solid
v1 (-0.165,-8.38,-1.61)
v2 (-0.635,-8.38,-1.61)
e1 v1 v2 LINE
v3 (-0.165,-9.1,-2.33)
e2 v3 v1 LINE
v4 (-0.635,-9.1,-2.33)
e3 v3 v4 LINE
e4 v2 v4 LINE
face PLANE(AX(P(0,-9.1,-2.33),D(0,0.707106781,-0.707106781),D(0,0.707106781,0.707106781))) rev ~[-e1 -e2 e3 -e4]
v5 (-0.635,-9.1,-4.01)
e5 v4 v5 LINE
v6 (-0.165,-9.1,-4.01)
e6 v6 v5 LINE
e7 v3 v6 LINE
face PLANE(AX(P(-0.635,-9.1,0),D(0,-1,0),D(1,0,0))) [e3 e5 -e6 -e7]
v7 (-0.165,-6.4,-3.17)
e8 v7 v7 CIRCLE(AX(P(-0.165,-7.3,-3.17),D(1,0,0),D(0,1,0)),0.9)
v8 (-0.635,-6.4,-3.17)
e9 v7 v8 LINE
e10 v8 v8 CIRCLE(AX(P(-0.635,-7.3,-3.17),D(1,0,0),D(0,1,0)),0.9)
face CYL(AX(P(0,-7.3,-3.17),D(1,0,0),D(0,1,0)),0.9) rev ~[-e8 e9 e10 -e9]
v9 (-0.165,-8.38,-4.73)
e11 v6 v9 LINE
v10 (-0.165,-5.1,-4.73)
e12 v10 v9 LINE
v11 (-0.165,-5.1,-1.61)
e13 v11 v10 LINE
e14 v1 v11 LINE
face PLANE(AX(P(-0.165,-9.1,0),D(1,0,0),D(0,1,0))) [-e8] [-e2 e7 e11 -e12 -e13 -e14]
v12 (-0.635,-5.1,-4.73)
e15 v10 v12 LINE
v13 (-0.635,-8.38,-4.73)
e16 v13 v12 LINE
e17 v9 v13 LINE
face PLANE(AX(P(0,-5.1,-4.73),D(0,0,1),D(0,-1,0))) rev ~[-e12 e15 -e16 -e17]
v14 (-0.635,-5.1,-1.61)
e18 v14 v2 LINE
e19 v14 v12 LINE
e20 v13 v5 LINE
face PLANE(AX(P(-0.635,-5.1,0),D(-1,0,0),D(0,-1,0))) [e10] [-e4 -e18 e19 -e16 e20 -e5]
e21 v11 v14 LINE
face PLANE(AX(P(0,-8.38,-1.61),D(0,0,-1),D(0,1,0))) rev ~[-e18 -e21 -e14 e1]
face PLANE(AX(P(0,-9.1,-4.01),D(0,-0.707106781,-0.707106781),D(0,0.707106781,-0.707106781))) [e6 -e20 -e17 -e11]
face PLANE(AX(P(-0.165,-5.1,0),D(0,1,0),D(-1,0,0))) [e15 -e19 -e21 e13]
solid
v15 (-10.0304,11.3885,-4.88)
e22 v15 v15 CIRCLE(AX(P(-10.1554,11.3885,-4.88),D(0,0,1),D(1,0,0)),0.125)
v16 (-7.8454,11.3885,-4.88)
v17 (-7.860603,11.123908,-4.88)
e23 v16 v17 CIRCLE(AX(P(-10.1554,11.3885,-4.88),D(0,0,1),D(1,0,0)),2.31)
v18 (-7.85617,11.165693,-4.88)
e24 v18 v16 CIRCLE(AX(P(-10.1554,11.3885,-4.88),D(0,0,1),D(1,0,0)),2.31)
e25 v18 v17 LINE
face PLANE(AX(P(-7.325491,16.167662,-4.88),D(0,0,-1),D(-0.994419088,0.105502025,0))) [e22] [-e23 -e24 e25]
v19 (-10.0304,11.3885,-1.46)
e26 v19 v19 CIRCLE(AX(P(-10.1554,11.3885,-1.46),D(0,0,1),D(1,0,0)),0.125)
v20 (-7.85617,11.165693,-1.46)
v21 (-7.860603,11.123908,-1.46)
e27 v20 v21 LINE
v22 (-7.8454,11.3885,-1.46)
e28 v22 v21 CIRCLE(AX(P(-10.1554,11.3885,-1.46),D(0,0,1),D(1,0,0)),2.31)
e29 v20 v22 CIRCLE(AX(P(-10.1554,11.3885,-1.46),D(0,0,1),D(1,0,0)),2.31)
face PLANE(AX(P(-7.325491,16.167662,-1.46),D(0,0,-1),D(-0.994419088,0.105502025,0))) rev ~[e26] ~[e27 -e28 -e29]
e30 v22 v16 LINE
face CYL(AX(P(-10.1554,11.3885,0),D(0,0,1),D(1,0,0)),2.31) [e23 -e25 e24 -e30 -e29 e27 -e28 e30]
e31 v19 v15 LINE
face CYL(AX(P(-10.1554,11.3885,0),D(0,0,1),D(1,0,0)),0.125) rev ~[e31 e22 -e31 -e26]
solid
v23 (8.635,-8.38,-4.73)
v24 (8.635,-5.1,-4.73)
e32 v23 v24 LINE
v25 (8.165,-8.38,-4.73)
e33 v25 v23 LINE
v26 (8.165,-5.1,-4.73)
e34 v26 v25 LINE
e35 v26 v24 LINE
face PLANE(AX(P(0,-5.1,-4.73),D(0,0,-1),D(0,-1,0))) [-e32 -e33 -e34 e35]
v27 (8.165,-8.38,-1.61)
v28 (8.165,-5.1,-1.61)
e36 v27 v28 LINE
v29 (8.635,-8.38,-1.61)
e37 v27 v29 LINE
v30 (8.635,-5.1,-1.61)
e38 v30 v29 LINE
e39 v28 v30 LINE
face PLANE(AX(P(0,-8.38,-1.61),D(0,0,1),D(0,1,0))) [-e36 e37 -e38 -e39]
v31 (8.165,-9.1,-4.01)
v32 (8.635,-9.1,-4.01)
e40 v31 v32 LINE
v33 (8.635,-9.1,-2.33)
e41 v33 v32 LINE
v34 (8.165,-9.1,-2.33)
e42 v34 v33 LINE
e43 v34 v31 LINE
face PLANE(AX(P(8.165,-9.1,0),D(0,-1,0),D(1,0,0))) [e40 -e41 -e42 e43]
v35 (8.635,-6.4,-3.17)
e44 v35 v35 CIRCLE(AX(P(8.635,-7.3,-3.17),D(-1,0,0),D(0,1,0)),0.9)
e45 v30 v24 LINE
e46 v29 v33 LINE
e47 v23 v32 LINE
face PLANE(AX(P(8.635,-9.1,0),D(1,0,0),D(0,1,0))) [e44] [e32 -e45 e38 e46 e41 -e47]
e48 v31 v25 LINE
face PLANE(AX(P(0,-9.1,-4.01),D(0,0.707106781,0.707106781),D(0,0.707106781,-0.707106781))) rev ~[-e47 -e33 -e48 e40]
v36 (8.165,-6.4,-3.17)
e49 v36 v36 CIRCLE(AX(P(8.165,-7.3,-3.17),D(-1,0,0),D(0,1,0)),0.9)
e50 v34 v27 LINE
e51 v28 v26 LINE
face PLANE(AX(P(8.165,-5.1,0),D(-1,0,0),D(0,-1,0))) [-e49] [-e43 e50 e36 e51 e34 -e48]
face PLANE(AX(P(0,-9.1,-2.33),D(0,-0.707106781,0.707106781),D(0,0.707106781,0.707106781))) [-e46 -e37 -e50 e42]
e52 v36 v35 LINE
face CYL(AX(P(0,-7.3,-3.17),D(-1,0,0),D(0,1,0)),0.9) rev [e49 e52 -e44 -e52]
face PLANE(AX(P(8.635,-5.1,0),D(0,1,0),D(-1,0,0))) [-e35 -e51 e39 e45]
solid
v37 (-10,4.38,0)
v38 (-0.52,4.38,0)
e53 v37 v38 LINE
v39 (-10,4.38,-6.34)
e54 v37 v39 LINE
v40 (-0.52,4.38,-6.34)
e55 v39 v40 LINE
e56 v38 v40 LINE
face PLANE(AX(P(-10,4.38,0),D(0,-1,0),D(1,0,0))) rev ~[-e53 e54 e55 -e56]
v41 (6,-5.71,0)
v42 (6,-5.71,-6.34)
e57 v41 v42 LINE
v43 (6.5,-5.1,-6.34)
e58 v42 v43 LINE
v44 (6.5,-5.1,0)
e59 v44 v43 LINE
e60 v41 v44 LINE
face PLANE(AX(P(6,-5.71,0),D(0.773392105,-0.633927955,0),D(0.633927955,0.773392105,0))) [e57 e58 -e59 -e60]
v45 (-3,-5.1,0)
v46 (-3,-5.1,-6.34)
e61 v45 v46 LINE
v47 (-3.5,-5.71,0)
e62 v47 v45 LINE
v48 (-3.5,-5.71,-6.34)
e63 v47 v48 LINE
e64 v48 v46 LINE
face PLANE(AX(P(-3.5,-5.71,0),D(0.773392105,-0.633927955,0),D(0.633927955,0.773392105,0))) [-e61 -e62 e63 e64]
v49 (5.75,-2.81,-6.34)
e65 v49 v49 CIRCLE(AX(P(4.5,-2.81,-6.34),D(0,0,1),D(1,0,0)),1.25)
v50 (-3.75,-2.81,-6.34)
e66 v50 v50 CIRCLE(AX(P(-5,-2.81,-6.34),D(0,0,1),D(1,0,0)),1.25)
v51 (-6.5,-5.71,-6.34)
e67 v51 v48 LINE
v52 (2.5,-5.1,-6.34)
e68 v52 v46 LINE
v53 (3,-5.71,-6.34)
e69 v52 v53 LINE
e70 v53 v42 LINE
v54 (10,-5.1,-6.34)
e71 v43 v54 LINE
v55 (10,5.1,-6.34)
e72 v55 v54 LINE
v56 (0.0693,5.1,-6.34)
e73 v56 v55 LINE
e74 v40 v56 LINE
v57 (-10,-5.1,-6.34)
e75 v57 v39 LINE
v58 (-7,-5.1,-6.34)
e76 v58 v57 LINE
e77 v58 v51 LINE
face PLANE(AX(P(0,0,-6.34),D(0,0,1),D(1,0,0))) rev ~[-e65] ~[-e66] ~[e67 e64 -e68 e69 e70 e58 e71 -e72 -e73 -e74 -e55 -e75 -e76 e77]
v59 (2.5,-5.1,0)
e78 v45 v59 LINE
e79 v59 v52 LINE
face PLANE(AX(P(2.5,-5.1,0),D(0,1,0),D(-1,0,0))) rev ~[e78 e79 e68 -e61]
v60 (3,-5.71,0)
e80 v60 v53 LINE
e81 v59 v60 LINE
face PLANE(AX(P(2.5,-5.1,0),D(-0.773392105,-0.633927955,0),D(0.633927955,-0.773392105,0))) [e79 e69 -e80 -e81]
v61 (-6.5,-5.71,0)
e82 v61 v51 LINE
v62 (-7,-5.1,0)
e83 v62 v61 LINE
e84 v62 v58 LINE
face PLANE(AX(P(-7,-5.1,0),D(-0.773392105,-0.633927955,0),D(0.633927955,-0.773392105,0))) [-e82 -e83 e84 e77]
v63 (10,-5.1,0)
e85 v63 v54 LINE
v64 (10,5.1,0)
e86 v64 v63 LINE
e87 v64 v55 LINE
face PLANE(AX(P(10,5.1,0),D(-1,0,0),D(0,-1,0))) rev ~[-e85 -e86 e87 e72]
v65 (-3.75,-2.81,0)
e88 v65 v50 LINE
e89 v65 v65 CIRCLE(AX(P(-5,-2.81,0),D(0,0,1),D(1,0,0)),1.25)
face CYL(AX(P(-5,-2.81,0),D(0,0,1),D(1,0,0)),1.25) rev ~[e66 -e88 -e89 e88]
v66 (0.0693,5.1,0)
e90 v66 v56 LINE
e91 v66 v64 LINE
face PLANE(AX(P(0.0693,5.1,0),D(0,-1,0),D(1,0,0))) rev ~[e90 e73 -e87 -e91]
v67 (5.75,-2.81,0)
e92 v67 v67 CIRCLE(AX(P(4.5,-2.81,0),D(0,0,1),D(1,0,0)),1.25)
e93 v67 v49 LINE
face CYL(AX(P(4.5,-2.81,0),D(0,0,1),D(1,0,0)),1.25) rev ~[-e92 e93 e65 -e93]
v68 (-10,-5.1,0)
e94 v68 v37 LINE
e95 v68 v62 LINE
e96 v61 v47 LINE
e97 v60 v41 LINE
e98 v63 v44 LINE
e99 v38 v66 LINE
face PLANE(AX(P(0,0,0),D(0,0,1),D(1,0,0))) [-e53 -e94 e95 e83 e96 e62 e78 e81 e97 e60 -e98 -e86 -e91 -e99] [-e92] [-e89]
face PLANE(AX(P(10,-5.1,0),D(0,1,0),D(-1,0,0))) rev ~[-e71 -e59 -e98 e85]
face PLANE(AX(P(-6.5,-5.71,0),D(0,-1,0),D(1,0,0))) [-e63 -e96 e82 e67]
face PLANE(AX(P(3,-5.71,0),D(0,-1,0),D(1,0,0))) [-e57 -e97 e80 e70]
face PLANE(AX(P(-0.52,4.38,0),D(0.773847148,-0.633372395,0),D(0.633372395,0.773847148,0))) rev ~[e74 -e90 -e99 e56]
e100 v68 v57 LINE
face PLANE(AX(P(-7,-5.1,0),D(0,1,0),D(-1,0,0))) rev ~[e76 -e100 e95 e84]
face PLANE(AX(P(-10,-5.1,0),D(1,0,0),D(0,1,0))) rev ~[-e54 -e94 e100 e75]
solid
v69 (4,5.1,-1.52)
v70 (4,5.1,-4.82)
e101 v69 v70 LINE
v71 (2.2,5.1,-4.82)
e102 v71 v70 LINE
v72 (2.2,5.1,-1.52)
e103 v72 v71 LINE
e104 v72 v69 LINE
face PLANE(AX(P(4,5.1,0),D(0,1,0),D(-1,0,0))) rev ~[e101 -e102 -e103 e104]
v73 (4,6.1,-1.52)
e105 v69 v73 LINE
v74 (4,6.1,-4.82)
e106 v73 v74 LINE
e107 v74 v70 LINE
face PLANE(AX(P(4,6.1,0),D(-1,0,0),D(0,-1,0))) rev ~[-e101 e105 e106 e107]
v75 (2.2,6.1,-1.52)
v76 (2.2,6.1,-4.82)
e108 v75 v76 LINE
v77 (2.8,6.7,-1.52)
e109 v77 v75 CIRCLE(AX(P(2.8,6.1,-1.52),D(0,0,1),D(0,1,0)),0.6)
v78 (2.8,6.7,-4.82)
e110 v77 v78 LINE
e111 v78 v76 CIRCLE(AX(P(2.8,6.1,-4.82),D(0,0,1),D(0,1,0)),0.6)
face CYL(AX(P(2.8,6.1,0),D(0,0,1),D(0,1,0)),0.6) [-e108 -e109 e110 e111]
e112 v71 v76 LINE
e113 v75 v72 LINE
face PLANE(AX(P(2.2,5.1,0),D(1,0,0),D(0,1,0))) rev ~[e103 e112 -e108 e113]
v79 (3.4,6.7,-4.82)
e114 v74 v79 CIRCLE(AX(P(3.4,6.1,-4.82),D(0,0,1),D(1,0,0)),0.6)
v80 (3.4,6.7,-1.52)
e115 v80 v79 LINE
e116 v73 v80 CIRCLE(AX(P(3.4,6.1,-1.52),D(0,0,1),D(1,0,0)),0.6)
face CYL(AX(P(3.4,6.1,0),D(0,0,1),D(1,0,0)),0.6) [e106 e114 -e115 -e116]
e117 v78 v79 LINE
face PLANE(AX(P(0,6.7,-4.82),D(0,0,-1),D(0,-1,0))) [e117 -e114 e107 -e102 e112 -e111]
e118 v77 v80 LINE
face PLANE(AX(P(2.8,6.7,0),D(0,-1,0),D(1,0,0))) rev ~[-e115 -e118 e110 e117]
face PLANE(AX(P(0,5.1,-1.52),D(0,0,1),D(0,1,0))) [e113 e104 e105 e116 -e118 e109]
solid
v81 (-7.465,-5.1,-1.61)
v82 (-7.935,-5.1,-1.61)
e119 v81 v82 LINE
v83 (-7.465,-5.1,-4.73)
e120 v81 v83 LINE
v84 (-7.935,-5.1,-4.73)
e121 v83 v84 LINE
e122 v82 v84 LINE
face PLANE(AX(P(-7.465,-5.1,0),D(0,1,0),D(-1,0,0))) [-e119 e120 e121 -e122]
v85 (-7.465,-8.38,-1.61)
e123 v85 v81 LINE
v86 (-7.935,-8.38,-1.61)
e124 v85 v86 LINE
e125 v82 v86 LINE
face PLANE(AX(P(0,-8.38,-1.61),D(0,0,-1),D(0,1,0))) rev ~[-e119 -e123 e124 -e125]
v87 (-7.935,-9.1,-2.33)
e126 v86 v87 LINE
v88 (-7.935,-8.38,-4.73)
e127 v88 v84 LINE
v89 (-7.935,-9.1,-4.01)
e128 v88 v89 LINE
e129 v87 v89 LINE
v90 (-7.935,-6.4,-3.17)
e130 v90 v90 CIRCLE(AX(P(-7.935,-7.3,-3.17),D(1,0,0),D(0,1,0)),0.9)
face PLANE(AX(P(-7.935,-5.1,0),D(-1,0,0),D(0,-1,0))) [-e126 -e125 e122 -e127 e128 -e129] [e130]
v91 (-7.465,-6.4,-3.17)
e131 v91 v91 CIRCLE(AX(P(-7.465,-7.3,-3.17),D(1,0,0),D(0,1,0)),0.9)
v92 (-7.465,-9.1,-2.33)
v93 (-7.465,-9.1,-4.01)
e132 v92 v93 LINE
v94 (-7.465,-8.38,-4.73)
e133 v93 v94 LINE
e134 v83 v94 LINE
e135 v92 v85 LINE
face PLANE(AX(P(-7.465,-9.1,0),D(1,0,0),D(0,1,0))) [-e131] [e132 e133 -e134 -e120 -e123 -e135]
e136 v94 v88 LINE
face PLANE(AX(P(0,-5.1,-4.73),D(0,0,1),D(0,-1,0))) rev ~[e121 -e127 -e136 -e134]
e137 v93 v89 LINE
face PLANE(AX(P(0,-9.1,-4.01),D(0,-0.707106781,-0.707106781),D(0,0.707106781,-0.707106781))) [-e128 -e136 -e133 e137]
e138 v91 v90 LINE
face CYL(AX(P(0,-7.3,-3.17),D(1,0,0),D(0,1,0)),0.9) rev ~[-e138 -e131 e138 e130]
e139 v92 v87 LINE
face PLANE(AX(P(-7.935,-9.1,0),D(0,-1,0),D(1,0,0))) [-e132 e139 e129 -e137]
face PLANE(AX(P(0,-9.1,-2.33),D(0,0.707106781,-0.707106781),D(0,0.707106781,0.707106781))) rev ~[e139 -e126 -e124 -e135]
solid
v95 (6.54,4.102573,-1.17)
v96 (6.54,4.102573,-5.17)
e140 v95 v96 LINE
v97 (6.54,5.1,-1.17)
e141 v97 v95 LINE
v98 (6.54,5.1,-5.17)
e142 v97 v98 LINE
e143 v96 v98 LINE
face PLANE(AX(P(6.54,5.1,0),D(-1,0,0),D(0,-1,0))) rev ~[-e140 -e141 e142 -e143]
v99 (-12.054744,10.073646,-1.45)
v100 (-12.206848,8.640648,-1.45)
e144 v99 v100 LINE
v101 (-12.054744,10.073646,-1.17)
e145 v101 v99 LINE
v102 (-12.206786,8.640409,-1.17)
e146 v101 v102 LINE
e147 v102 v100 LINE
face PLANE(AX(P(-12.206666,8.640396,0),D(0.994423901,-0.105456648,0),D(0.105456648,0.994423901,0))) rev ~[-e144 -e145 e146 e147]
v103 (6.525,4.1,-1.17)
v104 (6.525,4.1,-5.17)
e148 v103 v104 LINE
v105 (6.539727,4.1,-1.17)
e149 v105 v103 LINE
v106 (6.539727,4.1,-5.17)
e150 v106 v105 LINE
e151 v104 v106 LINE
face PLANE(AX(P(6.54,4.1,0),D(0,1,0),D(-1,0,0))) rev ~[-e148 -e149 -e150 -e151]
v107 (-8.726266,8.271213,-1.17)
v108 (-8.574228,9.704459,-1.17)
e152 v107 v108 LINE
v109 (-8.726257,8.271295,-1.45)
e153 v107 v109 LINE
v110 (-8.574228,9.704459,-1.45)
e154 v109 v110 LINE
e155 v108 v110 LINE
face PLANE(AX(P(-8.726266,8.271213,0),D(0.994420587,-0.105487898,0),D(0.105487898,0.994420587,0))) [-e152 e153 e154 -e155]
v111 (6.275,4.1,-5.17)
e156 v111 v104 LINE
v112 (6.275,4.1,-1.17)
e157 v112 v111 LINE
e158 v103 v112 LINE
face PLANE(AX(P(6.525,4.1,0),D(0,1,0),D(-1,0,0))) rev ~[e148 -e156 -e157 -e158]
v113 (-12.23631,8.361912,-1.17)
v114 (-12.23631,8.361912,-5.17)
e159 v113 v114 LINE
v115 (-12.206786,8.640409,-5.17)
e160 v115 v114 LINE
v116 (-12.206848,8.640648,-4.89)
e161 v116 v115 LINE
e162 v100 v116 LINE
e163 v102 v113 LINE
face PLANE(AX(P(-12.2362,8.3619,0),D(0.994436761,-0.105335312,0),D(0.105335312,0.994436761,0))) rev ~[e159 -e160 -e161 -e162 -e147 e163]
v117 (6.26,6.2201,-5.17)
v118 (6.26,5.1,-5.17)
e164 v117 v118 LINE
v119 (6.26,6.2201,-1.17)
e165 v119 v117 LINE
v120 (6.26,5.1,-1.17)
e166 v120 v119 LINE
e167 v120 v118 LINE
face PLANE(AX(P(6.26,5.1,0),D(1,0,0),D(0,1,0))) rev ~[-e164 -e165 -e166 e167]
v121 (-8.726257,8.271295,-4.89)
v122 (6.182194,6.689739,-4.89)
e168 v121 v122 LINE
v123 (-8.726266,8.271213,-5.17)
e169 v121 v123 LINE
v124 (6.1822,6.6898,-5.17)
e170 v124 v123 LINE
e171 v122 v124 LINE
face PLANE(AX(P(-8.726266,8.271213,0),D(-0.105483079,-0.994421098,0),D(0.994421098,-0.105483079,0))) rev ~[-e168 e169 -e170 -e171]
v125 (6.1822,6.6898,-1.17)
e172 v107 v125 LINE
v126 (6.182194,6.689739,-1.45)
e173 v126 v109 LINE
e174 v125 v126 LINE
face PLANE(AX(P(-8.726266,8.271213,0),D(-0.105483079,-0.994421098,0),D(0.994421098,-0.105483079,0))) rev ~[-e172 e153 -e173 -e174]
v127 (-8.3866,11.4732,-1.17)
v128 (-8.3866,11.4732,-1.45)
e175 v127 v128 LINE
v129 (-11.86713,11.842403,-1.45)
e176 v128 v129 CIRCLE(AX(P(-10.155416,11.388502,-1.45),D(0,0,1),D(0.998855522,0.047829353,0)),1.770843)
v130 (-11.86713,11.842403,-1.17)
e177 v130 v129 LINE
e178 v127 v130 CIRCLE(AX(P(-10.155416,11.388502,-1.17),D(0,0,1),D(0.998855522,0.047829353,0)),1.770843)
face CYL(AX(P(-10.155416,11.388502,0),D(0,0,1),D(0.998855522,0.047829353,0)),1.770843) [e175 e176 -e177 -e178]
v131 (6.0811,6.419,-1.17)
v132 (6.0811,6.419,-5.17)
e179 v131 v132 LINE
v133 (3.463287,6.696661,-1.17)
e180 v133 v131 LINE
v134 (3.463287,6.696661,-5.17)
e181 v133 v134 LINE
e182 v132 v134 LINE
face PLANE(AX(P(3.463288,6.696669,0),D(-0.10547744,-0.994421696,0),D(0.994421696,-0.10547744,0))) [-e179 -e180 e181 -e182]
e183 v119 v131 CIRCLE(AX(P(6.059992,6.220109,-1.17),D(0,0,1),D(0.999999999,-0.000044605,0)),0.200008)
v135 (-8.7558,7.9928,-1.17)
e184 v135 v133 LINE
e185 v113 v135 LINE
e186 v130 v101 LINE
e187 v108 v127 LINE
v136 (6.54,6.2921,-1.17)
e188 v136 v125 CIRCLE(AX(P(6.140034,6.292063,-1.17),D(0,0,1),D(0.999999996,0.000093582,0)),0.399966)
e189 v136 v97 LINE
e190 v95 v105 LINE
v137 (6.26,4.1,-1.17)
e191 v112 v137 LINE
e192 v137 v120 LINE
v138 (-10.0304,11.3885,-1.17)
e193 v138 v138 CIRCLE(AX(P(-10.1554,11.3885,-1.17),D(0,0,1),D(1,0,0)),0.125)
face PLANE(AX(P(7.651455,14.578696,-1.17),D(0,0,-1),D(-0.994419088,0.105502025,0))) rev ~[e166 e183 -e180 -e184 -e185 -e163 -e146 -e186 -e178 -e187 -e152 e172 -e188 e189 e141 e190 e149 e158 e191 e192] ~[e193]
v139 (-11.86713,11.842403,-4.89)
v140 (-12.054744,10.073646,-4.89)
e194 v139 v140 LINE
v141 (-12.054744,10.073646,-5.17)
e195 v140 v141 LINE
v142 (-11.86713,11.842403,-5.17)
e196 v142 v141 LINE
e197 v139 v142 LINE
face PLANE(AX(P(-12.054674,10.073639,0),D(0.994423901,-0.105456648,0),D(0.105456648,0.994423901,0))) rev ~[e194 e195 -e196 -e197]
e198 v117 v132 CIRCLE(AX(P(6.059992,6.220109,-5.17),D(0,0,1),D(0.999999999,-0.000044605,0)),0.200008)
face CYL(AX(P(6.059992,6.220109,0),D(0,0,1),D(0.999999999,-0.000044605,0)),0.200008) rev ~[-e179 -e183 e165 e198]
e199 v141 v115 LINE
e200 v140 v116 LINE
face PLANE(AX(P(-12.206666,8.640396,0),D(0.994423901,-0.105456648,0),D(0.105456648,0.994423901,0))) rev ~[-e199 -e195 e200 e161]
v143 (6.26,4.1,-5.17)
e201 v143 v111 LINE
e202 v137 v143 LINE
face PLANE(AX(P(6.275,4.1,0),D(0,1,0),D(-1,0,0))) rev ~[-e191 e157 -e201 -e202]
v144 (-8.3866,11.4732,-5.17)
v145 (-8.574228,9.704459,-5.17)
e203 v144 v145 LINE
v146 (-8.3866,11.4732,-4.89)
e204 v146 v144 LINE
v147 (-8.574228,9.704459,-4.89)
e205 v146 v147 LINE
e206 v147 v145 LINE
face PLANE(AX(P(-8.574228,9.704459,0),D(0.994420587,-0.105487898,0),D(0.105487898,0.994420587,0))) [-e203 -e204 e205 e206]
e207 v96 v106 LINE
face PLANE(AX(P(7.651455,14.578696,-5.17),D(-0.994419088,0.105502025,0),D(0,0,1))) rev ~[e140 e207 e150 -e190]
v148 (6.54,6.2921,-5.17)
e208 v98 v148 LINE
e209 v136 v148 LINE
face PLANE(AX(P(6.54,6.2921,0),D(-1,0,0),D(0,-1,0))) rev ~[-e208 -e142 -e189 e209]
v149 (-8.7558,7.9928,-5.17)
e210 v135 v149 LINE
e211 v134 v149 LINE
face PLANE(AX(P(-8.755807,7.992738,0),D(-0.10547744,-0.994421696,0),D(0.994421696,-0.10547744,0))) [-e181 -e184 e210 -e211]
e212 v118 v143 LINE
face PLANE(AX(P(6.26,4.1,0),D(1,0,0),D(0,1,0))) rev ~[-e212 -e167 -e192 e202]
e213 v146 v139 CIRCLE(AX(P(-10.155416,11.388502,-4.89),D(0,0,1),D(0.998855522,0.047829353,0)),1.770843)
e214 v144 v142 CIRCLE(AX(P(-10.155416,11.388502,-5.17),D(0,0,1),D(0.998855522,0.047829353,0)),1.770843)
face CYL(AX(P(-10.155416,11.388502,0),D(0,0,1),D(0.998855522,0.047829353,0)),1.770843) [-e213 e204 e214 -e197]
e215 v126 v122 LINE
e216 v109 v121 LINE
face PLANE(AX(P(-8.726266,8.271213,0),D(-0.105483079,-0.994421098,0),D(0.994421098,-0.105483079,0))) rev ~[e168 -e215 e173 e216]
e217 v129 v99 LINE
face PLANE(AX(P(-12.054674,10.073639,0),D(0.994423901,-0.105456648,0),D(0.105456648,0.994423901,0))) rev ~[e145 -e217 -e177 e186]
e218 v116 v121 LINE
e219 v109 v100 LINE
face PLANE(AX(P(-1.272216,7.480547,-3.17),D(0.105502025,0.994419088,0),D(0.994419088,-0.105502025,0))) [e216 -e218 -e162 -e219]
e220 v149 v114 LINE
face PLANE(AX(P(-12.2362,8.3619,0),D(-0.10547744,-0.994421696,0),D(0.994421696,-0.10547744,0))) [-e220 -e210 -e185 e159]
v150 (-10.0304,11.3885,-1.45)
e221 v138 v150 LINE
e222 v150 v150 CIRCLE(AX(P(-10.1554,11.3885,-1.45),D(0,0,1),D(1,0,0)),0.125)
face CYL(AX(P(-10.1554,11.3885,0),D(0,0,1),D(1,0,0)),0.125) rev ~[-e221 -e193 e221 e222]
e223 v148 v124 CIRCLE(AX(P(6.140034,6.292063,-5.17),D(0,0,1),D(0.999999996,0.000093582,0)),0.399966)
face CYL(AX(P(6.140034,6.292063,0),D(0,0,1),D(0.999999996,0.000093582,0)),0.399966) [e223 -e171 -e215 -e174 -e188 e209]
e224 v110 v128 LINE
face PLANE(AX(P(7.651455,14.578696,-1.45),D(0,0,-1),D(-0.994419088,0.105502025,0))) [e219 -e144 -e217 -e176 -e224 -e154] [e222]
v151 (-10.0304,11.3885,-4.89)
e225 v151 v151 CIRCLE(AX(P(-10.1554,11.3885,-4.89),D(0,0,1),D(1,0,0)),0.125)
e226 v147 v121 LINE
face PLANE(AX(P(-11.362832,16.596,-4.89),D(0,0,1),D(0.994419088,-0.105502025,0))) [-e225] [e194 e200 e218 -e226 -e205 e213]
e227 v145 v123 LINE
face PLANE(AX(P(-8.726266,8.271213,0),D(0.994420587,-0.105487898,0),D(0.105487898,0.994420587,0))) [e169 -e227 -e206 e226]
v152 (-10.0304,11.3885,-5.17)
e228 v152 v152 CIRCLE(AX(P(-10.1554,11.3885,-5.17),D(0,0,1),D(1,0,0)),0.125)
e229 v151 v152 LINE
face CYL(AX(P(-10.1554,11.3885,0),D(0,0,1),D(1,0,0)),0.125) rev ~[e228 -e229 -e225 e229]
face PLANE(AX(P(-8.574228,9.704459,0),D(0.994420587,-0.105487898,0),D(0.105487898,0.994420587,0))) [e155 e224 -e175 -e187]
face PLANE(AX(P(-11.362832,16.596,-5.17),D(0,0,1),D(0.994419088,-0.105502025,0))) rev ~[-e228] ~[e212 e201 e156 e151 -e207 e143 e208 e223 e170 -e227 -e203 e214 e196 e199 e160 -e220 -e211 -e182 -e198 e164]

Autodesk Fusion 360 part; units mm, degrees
sketch "Body" plane through (0, 0, 0) normal (0, 0, 1) x (1, 0, 0)
  line L0 (10, -5.1) -> (-10, -5.1)
  line L1 (-10, -5.1) -> (-10, 5.1)
  line L2 (-10, 5.1) -> (10, 5.1)
  line L3 (10, 5.1) -> (10, -5.1)
  line L4 (10, -5.1) -> (-10, 5.1) construction
  line L5 (-10, -5.1) -> (10, 5.1) construction
  line L6 (8.4, 5.1) -> (8.4, -5.1) construction
  line L7 (-0.4, 5.1) -> (-0.4, -5.1) construction
  line L8 (-7.7, 5.1) -> (-7.7, -5.1) construction
  line L9 (-7.7, -5.1) -> (-7.7, -9.1) construction
  line L10 (-0.4, -5.1) -> (-0.4, -9.1) construction
  line L11 (8.4, -5.1) -> (8.4, -9.1) construction
  line L12 (-10, -5.1) -> (10, -5.1) construction
  line L13 (10, -5.1) -> (10, -5.71) construction
  line L14 (10, -5.71) -> (-10, -5.71) construction
  line L15 (-10, -5.71) -> (-10, -5.1) construction
  line L16 (10, -2.81) -> (-10, -2.81) construction
  line L17 (-10, -2.81) -> (4.5, -2.81) construction
  circle A0 centre (4.5, -2.81) radius 1.25
  line L18 (4.5, -2.81) -> (-5, -2.81) construction
  circle A1 centre (-5, -2.81) radius 1.25
  line L19 (-5, -2.81) -> (-5, -5.71) construction
  line L20 (4.5, -2.81) -> (4.5, -5.71) construction
  line L21 (3, -5.71) -> (6, -5.71)
  line L22 (4.5, -5.1) -> (4.5, -5.71) construction
  line L23 (-5, -5.1) -> (-5, -5.71) construction
  line L24 (2.5, -5.1) -> (6.5, -5.1)
  line L25 (2.5, -5.1) -> (3, -5.71)
  line L26 (6, -5.71) -> (6.5, -5.1)
  line L27 (-6.5, -5.71) -> (-3.5, -5.71)
  line L28 (-7, -5.1) -> (-3, -5.1)
  line L29 (-7, -5.1) -> (-6.5, -5.71)
  line L30 (-3.5, -5.71) -> (-3, -5.1)
  line L31 (-7.465, -5.1) -> (-7.935, -5.1)
  line L32 (-7.935, -5.1) -> (-7.935, -9.1)
  line L33 (-7.935, -9.1) -> (-7.465, -9.1)
  line L34 (-7.465, -9.1) -> (-7.465, -5.1)
  line L35 (-7.465, -5.1) -> (-7.935, -9.1) construction
  line L36 (-7.935, -5.1) -> (-7.465, -9.1) construction
  line L37 (-0.165, -5.1) -> (-0.635, -5.1)
  line L38 (-0.635, -5.1) -> (-0.635, -9.1)
  line L39 (-0.635, -9.1) -> (-0.165, -9.1)
  line L40 (-0.165, -9.1) -> (-0.165, -5.1)
  line L41 (-0.165, -5.1) -> (-0.635, -9.1) construction
  line L42 (-0.635, -5.1) -> (-0.165, -9.1) construction
  line L43 (8.635, -5.1) -> (8.165, -5.1)
  line L44 (8.165, -5.1) -> (8.165, -9.1)
  line L45 (8.165, -9.1) -> (8.635, -9.1)
  line L46 (8.635, -9.1) -> (8.635, -5.1)
  line L47 (8.635, -5.1) -> (8.165, -9.1) construction
  line L48 (8.165, -5.1) -> (8.635, -9.1) construction
  line L49 (-10, -5.1) -> (-10, 4.38)
  line L50 (-10, 4.38) -> (-0.52, 4.38)
  line L51 (-0.52, 4.38) -> (0.0693, 5.1)
  line L52 (-0.52, 4.38) -> (0.4104, 4.38) construction
  point P0 (4.5, -5.1)
  point P1 (-7.7, -7.1)
  point P2 (-0.4, -7.1)
  point P3 (8.4, -7.1)
  dimension "d1" = 20
  dimension "d2" = 10.2
  dimension "d3" = 1.6
  dimension "d4" = 10.4
  dimension "d5" = 17.7
  dimension "d6" = 4
  dimension "d7" = 4
  dimension "d8" = 4
  dimension "d12" = 0.61
  dimension "d13" = 2.9
  dimension "d14" = 14.5
  dimension "d15" = 2.5
  dimension "d16" = 9.5
  dimension "d17" = 2.5
  dimension "d21" = 3
  dimension "d22" = 4
  dimension "d23" = 3
  dimension "d24" = 4
  dimension "d25" = 0.47
  dimension "d26" = 0.47
  dimension "d27" = 4
  dimension "d28" = 0.47
  dimension "d51" = 9.48
  dimension "d52" = 9.48
  dimension "d53" = 50.7
sketch "Stem" plane through (0, 0, 0) normal (0, 0, 1) x (1, 0, 0)
  line L0 (2.8, 6.7) -> (3.4, 6.7)
  line L1 (4, 6.1) -> (4, 5.1)
  line L2 (4, 5.1) -> (2.2, 5.1)
  line L3 (2.2, 5.1) -> (2.2, 6.1)
  line L4 (10, 5.1) -> (10, -5.1) construction
  line L5 (10, 5.1) -> (3.1, 5.1) construction
  arc A0 (2.8, 6.7) -> (2.2, 6.1) centre (2.8, 6.1) ccw
  arc A1 (4, 6.1) -> (3.4, 6.7) centre (3.4, 6.1) ccw
  line L6 (10, 5.1) -> (6.4, 5.1) construction
  line L7 (6.4, 5.1) -> (6.4, 4.1) construction
  circle A2 centre (6.4, 4.1) radius 0.125
  line L8 (6.54, 6.2921) -> (6.54, 4.1)
  line L9 (6.54, 4.1) -> (6.26, 4.1)
  line L10 (6.26, 4.1) -> (6.26, 6.2201)
  line L11 (-12.2362, 8.3619) -> (6.0811, 6.419)
  line L12 (-12.2362, 8.3619) -> (-12.2067, 8.6404)
  line L13 (-12.2067, 8.6404) -> (6.1822, 6.6898)
  line L14 (-10, 5.1) -> (10, 5.1)
  line L15 (-12.2362, 8.3619) -> (-11.8671, 11.8424)
  line L16 (-12.2362, 8.3619) -> (-8.7558, 7.9928)
  line L17 (-8.7558, 7.9928) -> (-8.3866, 11.4732)
  line L18 (-10.496, 8.1773) -> (-9.9686, 13.1494) construction
  arc A3 (-8.3866, 11.4732) -> (-11.8671, 11.8424) centre (-10.1554, 11.3885) ccw
  circle A4 centre (-10.1554, 11.3885) radius 0.125
  circle A5 centre (-10.1554, 11.3885) radius 2.31
  arc A6 (6.26, 6.2201) -> (6.0811, 6.419) centre (6.06, 6.2201) ccw
  arc A7 (6.54, 6.2921) -> (6.1822, 6.6898) centre (6.14, 6.2921) ccw
  point P0 (2.2, 6.7)
  point P1 (4, 6.7)
  point P2 (6.26, 6.4)
  point P3 (6.26, 6.4)
  dimension "d29" = 1.8
  dimension "d30" = 1.6
  dimension "d31" = 6.9
  dimension "d32" = 0.6
  dimension "d33" = 3.6
  dimension "d34" = 1
  dimension "d35" = 0.25
  dimension "d39" = 2.3
  dimension "d40" = 18.6
  dimension "d41" = 0.28
  dimension "d42" = 0.28
  dimension "d43" = 3.5
  dimension "d44" = 3.5
  dimension "d45" = 3.5
  dimension "d46" = 5
  dimension "d47" = 0.25
  dimension "d48" = 4.62
  dimension "d49" = 0.2
  dimension "d50" = 0.4
extrude "Extrude1" add sketch "Body" against normal blind 6.34 contours L0 L1 L2 L3 L24 L28 L31 L37 L43 L49 L50 L51 | L0 L21 L24 L25 L26 | L0 L27 L28 L29 L30 makes body 1
extrude "Extrude2" add sketch "Body" against normal blind 6.34 separate body contours L0 L43 L44 L45 L46 | L0 L37 L38 L39 L40 | L0 L31 L32 L33 L34 makes body 2 at (-7.465, -7.7667, -2.1133) makes body 3 at (-0.165, -7.7667, -2.1133) makes body 4 at (8.635, -7.7667, -2.1133)
extrude "Extrude3" add sketch "Stem" against normal blind 6.34 separate body contours L0 L1 L2 L3 A0 A1 L14 makes body 5
extrude "Extrude4" add sketch "Stem" against normal blind 6.34 separate body contours L8 L10 L11 L13 L14 L17 A6 A7 | L11 L12 L13 L15 L16 L17 | L13 L15 L17 A5 | A2 L8 L9 L10 L14 | L15 L17 A3 A5 | A2 L9 picked at (-11.3966, 11.0834) picked at (6.4305, 4.1408) makes body 6
extrude "Extrude5" add sketch "Stem" against normal blind 6.34 separate body contours L15 L17 A3 A5 | L15 L17 A3 A5 makes body 7
sketch "Profile - Contact / Button" plane through (0, 0, 0) normal (1, 0, 0) x (0, 1, 0)
  line L0 (-5.1, 0) -> (-9.1, 0) construction
  line L1 (-9.1, 0) -> (-9.1, -6.34) construction
  line L2 (-9.1, -6.34) -> (-5.1, -6.34) construction
  line L3 (-5.1, -6.34) -> (-5.1, 0) construction
  line L4 (-9.1, -3.17) -> (-5.1, -3.17) construction
  line L5 (-5.1, -4.73) -> (-9.1, -4.73) construction
  line L6 (-9.1, -4.73) -> (-9.1, -1.61) construction
  line L7 (-9.1, -1.61) -> (-5.1, -1.61) construction
  line L8 (-5.1, -1.61) -> (-5.1, -4.73) construction
  line L9 (-5.1, -4.73) -> (-9.1, -1.61) construction
  line L10 (-9.1, -4.73) -> (-5.1, -1.61) construction
  line L11 (-9.1, -3.17) -> (-7.3, -3.17) construction
  circle A0 centre (-7.3, -3.17) radius 0.9
  line L12 (-8.38, -4.73) -> (-8.38, -1.61) construction
  line L13 (-9.1, -2.33) -> (-5.1, -2.33) construction
  line L14 (-5.1, -4.01) -> (-9.1, -4.01) construction
  line L15 (-9.1, -4.01) -> (-8.38, -4.73)
  line L16 (-9.1, -2.33) -> (-8.38, -1.61)
  line L17 (-8.38, -1.61) -> (-5.1, -1.61)
  line L18 (-5.1, -1.61) -> (-5.1, -4.73)
  line L19 (-5.1, -4.73) -> (-8.38, -4.73)
  line L20 (-9.1, -4.01) -> (-9.1, -2.33)
  line L21 (6.7, 0) -> (6.7, -6.34) construction
  line L22 (6.7, 0) -> (6.1, 0) construction
  line L23 (6.1, -6.34) -> (6.7, -6.34) construction
  line L24 (5.1, 0) -> (6.1, 0) construction
  line L25 (5.1, -6.34) -> (6.1, -6.34) construction
  line L26 (5.1, 0) -> (5.1, -6.34) construction
  line L27 (5.1, -3.17) -> (6.7, -3.17) construction
  line L28 (6.7, -4.82) -> (5.1, -4.82)
  line L29 (5.1, -4.82) -> (5.1, -1.52)
  line L30 (5.1, -1.52) -> (6.7, -1.52)
  line L31 (6.7, -1.52) -> (6.7, -4.82)
  line L32 (6.7, -4.82) -> (5.1, -1.52) construction
  line L33 (5.1, -4.82) -> (6.7, -1.52) construction
  point P0 (-7.1, -3.17)
  point P1 (5.9, -3.17)
  dimension "d64" = 3.12
  dimension "d65" = 1.8
  dimension "d66" = 1.8
  dimension "d67" = 0.72
  dimension "d68" = 0.72
  dimension "d69" = 0.72
  dimension "d74" = 3.3
extrude "Extrude6" cut sketch "Profile - Contact / Button" against normal blind 10 contours L15 L16 L17 L18 L19 L20 keep common part bodies 2 3
extrude "Extrude7" cut sketch "Profile - Contact / Button" along normal blind 11 contours L15 L16 L17 L18 L19 L20 keep common part bodies 4
extrude "Extrude9" cut sketch "Profile - Contact / Button" along normal blind 6.9 contours L28 L29 L30 L31 keep common part bodies 5
ref_plane "WorkPlane1" through (-0.4282, 15.4359, -3.17) normal (0.1055, 0.9944, 0) x (0.9944, -0.1055, 0)
sketch "Profile - Stem" plane through (-0.4282, 15.4359, -3.17) normal (0.1055, 0.9944, 0) x (0.9944, -0.1055, 0)
  line L0 (-10.996, -3.17) -> (-10.996, 3.17) construction
  line L1 (-10.996, -3.17) -> (7.4241, -3.17) construction
  line L2 (7.4241, 3.17) -> (-10.996, 3.17) construction
  line L3 (7.6229, -3.17) -> (7.4241, -3.17) construction
  line L4 (7.6229, 3.17) -> (7.4241, 3.17) construction
  line L5 (7.8466, -3.17) -> (7.6229, -3.17) construction
  line L6 (7.8466, 3.17) -> (7.6229, 3.17) construction
  line L7 (8.125, -3.17) -> (7.8466, -3.17) construction
  line L8 (8.125, 3.17) -> (7.8466, 3.17) construction
  line L9 (8.125, -3.17) -> (8.125, 3.17) construction
  line L10 (8.125, 0) -> (-10.996, 0) construction
  line L11 (-10.996, 2) -> (8.125, 2)
  line L12 (8.125, 2) -> (8.125, -2)
  line L13 (8.125, -2) -> (-10.996, -2)
  line L14 (-10.996, -2) -> (-10.996, 2)
  line L15 (-10.996, 2) -> (8.125, -2) construction
  line L16 (8.125, 2) -> (-10.996, -2) construction
  line L17 (8.125, -1.72) -> (-10.996, -1.72)
  line L18 (-10.996, 1.72) -> (8.125, 1.72)
  point P0 (-1.4355, 0)
  dimension "d80" = 4
  dimension "d83" = 0.28
  dimension "d84" = 0.28
extrude "Extrude10" cut sketch "Profile - Stem" against normal blind 25 keep common part bodies 6
extrude "Extrude12" cut sketch "Profile - Stem" against normal blind 8 contours L12 L14 L17 L18 bodies 6
sketch "Profile - Wheel" plane through (-0.4282, 15.4359, -3.17) normal (0.1055, 0.9944, 0) x (0.9944, -0.1055, 0)
  line L0 (-11.5431, 3.17) -> (-11.556, 3.17)
  line L1 (-6.936, 3.17) -> (-11.5431, 3.17)
  line L2 (-11.5431, -3.17) -> (-6.936, -3.17)
  line L3 (-11.556, -3.17) -> (-11.5431, -3.17)
  line L4 (-6.936, -3.17) -> (-6.936, 3.17)
  line L5 (-11.556, -3.17) -> (-11.556, 3.17)
  line L6 (-10.996, -2) -> (-10.996, 2) construction
  line L7 (-10.996, -2) -> (7.4241, -2) construction
  line L8 (7.4241, -2) -> (7.6229, -2) construction
  line L9 (7.6229, -2) -> (7.8466, -2) construction
  line L10 (7.8466, -2) -> (8.125, -2) construction
  line L11 (7.4241, 2) -> (-10.996, 2) construction
  line L12 (8.125, 2) -> (7.8466, 2) construction
  line L13 (7.8466, 2) -> (7.6229, 2) construction
  line L14 (7.6229, 2) -> (7.4241, 2) construction
  line L15 (8.125, -2) -> (8.125, 2) construction
  line L16 (8.125, -2) -> (-11.556, -2)
  line L17 (8.125, 2) -> (-11.556, 2)
  line L18 (8.125, -1.71) -> (-11.556, -1.71)
  line L19 (8.125, 1.71) -> (-11.556, 1.71)
  dimension "d89" = 0.29
  dimension "d90" = -0.29
extrude "Extrude13" cut sketch "Profile - Wheel" against normal blind 8 contours L4 L5 L18 L19 keep common part bodies 7
extrude "Extrude11" [suppressed]
extrude "Extrude8" [suppressed]
equation "d4 = 1.6 mm + 8.8 mm"
equation "d5 = 1.6 mm + 8.8 mm + 7.3 mm"
